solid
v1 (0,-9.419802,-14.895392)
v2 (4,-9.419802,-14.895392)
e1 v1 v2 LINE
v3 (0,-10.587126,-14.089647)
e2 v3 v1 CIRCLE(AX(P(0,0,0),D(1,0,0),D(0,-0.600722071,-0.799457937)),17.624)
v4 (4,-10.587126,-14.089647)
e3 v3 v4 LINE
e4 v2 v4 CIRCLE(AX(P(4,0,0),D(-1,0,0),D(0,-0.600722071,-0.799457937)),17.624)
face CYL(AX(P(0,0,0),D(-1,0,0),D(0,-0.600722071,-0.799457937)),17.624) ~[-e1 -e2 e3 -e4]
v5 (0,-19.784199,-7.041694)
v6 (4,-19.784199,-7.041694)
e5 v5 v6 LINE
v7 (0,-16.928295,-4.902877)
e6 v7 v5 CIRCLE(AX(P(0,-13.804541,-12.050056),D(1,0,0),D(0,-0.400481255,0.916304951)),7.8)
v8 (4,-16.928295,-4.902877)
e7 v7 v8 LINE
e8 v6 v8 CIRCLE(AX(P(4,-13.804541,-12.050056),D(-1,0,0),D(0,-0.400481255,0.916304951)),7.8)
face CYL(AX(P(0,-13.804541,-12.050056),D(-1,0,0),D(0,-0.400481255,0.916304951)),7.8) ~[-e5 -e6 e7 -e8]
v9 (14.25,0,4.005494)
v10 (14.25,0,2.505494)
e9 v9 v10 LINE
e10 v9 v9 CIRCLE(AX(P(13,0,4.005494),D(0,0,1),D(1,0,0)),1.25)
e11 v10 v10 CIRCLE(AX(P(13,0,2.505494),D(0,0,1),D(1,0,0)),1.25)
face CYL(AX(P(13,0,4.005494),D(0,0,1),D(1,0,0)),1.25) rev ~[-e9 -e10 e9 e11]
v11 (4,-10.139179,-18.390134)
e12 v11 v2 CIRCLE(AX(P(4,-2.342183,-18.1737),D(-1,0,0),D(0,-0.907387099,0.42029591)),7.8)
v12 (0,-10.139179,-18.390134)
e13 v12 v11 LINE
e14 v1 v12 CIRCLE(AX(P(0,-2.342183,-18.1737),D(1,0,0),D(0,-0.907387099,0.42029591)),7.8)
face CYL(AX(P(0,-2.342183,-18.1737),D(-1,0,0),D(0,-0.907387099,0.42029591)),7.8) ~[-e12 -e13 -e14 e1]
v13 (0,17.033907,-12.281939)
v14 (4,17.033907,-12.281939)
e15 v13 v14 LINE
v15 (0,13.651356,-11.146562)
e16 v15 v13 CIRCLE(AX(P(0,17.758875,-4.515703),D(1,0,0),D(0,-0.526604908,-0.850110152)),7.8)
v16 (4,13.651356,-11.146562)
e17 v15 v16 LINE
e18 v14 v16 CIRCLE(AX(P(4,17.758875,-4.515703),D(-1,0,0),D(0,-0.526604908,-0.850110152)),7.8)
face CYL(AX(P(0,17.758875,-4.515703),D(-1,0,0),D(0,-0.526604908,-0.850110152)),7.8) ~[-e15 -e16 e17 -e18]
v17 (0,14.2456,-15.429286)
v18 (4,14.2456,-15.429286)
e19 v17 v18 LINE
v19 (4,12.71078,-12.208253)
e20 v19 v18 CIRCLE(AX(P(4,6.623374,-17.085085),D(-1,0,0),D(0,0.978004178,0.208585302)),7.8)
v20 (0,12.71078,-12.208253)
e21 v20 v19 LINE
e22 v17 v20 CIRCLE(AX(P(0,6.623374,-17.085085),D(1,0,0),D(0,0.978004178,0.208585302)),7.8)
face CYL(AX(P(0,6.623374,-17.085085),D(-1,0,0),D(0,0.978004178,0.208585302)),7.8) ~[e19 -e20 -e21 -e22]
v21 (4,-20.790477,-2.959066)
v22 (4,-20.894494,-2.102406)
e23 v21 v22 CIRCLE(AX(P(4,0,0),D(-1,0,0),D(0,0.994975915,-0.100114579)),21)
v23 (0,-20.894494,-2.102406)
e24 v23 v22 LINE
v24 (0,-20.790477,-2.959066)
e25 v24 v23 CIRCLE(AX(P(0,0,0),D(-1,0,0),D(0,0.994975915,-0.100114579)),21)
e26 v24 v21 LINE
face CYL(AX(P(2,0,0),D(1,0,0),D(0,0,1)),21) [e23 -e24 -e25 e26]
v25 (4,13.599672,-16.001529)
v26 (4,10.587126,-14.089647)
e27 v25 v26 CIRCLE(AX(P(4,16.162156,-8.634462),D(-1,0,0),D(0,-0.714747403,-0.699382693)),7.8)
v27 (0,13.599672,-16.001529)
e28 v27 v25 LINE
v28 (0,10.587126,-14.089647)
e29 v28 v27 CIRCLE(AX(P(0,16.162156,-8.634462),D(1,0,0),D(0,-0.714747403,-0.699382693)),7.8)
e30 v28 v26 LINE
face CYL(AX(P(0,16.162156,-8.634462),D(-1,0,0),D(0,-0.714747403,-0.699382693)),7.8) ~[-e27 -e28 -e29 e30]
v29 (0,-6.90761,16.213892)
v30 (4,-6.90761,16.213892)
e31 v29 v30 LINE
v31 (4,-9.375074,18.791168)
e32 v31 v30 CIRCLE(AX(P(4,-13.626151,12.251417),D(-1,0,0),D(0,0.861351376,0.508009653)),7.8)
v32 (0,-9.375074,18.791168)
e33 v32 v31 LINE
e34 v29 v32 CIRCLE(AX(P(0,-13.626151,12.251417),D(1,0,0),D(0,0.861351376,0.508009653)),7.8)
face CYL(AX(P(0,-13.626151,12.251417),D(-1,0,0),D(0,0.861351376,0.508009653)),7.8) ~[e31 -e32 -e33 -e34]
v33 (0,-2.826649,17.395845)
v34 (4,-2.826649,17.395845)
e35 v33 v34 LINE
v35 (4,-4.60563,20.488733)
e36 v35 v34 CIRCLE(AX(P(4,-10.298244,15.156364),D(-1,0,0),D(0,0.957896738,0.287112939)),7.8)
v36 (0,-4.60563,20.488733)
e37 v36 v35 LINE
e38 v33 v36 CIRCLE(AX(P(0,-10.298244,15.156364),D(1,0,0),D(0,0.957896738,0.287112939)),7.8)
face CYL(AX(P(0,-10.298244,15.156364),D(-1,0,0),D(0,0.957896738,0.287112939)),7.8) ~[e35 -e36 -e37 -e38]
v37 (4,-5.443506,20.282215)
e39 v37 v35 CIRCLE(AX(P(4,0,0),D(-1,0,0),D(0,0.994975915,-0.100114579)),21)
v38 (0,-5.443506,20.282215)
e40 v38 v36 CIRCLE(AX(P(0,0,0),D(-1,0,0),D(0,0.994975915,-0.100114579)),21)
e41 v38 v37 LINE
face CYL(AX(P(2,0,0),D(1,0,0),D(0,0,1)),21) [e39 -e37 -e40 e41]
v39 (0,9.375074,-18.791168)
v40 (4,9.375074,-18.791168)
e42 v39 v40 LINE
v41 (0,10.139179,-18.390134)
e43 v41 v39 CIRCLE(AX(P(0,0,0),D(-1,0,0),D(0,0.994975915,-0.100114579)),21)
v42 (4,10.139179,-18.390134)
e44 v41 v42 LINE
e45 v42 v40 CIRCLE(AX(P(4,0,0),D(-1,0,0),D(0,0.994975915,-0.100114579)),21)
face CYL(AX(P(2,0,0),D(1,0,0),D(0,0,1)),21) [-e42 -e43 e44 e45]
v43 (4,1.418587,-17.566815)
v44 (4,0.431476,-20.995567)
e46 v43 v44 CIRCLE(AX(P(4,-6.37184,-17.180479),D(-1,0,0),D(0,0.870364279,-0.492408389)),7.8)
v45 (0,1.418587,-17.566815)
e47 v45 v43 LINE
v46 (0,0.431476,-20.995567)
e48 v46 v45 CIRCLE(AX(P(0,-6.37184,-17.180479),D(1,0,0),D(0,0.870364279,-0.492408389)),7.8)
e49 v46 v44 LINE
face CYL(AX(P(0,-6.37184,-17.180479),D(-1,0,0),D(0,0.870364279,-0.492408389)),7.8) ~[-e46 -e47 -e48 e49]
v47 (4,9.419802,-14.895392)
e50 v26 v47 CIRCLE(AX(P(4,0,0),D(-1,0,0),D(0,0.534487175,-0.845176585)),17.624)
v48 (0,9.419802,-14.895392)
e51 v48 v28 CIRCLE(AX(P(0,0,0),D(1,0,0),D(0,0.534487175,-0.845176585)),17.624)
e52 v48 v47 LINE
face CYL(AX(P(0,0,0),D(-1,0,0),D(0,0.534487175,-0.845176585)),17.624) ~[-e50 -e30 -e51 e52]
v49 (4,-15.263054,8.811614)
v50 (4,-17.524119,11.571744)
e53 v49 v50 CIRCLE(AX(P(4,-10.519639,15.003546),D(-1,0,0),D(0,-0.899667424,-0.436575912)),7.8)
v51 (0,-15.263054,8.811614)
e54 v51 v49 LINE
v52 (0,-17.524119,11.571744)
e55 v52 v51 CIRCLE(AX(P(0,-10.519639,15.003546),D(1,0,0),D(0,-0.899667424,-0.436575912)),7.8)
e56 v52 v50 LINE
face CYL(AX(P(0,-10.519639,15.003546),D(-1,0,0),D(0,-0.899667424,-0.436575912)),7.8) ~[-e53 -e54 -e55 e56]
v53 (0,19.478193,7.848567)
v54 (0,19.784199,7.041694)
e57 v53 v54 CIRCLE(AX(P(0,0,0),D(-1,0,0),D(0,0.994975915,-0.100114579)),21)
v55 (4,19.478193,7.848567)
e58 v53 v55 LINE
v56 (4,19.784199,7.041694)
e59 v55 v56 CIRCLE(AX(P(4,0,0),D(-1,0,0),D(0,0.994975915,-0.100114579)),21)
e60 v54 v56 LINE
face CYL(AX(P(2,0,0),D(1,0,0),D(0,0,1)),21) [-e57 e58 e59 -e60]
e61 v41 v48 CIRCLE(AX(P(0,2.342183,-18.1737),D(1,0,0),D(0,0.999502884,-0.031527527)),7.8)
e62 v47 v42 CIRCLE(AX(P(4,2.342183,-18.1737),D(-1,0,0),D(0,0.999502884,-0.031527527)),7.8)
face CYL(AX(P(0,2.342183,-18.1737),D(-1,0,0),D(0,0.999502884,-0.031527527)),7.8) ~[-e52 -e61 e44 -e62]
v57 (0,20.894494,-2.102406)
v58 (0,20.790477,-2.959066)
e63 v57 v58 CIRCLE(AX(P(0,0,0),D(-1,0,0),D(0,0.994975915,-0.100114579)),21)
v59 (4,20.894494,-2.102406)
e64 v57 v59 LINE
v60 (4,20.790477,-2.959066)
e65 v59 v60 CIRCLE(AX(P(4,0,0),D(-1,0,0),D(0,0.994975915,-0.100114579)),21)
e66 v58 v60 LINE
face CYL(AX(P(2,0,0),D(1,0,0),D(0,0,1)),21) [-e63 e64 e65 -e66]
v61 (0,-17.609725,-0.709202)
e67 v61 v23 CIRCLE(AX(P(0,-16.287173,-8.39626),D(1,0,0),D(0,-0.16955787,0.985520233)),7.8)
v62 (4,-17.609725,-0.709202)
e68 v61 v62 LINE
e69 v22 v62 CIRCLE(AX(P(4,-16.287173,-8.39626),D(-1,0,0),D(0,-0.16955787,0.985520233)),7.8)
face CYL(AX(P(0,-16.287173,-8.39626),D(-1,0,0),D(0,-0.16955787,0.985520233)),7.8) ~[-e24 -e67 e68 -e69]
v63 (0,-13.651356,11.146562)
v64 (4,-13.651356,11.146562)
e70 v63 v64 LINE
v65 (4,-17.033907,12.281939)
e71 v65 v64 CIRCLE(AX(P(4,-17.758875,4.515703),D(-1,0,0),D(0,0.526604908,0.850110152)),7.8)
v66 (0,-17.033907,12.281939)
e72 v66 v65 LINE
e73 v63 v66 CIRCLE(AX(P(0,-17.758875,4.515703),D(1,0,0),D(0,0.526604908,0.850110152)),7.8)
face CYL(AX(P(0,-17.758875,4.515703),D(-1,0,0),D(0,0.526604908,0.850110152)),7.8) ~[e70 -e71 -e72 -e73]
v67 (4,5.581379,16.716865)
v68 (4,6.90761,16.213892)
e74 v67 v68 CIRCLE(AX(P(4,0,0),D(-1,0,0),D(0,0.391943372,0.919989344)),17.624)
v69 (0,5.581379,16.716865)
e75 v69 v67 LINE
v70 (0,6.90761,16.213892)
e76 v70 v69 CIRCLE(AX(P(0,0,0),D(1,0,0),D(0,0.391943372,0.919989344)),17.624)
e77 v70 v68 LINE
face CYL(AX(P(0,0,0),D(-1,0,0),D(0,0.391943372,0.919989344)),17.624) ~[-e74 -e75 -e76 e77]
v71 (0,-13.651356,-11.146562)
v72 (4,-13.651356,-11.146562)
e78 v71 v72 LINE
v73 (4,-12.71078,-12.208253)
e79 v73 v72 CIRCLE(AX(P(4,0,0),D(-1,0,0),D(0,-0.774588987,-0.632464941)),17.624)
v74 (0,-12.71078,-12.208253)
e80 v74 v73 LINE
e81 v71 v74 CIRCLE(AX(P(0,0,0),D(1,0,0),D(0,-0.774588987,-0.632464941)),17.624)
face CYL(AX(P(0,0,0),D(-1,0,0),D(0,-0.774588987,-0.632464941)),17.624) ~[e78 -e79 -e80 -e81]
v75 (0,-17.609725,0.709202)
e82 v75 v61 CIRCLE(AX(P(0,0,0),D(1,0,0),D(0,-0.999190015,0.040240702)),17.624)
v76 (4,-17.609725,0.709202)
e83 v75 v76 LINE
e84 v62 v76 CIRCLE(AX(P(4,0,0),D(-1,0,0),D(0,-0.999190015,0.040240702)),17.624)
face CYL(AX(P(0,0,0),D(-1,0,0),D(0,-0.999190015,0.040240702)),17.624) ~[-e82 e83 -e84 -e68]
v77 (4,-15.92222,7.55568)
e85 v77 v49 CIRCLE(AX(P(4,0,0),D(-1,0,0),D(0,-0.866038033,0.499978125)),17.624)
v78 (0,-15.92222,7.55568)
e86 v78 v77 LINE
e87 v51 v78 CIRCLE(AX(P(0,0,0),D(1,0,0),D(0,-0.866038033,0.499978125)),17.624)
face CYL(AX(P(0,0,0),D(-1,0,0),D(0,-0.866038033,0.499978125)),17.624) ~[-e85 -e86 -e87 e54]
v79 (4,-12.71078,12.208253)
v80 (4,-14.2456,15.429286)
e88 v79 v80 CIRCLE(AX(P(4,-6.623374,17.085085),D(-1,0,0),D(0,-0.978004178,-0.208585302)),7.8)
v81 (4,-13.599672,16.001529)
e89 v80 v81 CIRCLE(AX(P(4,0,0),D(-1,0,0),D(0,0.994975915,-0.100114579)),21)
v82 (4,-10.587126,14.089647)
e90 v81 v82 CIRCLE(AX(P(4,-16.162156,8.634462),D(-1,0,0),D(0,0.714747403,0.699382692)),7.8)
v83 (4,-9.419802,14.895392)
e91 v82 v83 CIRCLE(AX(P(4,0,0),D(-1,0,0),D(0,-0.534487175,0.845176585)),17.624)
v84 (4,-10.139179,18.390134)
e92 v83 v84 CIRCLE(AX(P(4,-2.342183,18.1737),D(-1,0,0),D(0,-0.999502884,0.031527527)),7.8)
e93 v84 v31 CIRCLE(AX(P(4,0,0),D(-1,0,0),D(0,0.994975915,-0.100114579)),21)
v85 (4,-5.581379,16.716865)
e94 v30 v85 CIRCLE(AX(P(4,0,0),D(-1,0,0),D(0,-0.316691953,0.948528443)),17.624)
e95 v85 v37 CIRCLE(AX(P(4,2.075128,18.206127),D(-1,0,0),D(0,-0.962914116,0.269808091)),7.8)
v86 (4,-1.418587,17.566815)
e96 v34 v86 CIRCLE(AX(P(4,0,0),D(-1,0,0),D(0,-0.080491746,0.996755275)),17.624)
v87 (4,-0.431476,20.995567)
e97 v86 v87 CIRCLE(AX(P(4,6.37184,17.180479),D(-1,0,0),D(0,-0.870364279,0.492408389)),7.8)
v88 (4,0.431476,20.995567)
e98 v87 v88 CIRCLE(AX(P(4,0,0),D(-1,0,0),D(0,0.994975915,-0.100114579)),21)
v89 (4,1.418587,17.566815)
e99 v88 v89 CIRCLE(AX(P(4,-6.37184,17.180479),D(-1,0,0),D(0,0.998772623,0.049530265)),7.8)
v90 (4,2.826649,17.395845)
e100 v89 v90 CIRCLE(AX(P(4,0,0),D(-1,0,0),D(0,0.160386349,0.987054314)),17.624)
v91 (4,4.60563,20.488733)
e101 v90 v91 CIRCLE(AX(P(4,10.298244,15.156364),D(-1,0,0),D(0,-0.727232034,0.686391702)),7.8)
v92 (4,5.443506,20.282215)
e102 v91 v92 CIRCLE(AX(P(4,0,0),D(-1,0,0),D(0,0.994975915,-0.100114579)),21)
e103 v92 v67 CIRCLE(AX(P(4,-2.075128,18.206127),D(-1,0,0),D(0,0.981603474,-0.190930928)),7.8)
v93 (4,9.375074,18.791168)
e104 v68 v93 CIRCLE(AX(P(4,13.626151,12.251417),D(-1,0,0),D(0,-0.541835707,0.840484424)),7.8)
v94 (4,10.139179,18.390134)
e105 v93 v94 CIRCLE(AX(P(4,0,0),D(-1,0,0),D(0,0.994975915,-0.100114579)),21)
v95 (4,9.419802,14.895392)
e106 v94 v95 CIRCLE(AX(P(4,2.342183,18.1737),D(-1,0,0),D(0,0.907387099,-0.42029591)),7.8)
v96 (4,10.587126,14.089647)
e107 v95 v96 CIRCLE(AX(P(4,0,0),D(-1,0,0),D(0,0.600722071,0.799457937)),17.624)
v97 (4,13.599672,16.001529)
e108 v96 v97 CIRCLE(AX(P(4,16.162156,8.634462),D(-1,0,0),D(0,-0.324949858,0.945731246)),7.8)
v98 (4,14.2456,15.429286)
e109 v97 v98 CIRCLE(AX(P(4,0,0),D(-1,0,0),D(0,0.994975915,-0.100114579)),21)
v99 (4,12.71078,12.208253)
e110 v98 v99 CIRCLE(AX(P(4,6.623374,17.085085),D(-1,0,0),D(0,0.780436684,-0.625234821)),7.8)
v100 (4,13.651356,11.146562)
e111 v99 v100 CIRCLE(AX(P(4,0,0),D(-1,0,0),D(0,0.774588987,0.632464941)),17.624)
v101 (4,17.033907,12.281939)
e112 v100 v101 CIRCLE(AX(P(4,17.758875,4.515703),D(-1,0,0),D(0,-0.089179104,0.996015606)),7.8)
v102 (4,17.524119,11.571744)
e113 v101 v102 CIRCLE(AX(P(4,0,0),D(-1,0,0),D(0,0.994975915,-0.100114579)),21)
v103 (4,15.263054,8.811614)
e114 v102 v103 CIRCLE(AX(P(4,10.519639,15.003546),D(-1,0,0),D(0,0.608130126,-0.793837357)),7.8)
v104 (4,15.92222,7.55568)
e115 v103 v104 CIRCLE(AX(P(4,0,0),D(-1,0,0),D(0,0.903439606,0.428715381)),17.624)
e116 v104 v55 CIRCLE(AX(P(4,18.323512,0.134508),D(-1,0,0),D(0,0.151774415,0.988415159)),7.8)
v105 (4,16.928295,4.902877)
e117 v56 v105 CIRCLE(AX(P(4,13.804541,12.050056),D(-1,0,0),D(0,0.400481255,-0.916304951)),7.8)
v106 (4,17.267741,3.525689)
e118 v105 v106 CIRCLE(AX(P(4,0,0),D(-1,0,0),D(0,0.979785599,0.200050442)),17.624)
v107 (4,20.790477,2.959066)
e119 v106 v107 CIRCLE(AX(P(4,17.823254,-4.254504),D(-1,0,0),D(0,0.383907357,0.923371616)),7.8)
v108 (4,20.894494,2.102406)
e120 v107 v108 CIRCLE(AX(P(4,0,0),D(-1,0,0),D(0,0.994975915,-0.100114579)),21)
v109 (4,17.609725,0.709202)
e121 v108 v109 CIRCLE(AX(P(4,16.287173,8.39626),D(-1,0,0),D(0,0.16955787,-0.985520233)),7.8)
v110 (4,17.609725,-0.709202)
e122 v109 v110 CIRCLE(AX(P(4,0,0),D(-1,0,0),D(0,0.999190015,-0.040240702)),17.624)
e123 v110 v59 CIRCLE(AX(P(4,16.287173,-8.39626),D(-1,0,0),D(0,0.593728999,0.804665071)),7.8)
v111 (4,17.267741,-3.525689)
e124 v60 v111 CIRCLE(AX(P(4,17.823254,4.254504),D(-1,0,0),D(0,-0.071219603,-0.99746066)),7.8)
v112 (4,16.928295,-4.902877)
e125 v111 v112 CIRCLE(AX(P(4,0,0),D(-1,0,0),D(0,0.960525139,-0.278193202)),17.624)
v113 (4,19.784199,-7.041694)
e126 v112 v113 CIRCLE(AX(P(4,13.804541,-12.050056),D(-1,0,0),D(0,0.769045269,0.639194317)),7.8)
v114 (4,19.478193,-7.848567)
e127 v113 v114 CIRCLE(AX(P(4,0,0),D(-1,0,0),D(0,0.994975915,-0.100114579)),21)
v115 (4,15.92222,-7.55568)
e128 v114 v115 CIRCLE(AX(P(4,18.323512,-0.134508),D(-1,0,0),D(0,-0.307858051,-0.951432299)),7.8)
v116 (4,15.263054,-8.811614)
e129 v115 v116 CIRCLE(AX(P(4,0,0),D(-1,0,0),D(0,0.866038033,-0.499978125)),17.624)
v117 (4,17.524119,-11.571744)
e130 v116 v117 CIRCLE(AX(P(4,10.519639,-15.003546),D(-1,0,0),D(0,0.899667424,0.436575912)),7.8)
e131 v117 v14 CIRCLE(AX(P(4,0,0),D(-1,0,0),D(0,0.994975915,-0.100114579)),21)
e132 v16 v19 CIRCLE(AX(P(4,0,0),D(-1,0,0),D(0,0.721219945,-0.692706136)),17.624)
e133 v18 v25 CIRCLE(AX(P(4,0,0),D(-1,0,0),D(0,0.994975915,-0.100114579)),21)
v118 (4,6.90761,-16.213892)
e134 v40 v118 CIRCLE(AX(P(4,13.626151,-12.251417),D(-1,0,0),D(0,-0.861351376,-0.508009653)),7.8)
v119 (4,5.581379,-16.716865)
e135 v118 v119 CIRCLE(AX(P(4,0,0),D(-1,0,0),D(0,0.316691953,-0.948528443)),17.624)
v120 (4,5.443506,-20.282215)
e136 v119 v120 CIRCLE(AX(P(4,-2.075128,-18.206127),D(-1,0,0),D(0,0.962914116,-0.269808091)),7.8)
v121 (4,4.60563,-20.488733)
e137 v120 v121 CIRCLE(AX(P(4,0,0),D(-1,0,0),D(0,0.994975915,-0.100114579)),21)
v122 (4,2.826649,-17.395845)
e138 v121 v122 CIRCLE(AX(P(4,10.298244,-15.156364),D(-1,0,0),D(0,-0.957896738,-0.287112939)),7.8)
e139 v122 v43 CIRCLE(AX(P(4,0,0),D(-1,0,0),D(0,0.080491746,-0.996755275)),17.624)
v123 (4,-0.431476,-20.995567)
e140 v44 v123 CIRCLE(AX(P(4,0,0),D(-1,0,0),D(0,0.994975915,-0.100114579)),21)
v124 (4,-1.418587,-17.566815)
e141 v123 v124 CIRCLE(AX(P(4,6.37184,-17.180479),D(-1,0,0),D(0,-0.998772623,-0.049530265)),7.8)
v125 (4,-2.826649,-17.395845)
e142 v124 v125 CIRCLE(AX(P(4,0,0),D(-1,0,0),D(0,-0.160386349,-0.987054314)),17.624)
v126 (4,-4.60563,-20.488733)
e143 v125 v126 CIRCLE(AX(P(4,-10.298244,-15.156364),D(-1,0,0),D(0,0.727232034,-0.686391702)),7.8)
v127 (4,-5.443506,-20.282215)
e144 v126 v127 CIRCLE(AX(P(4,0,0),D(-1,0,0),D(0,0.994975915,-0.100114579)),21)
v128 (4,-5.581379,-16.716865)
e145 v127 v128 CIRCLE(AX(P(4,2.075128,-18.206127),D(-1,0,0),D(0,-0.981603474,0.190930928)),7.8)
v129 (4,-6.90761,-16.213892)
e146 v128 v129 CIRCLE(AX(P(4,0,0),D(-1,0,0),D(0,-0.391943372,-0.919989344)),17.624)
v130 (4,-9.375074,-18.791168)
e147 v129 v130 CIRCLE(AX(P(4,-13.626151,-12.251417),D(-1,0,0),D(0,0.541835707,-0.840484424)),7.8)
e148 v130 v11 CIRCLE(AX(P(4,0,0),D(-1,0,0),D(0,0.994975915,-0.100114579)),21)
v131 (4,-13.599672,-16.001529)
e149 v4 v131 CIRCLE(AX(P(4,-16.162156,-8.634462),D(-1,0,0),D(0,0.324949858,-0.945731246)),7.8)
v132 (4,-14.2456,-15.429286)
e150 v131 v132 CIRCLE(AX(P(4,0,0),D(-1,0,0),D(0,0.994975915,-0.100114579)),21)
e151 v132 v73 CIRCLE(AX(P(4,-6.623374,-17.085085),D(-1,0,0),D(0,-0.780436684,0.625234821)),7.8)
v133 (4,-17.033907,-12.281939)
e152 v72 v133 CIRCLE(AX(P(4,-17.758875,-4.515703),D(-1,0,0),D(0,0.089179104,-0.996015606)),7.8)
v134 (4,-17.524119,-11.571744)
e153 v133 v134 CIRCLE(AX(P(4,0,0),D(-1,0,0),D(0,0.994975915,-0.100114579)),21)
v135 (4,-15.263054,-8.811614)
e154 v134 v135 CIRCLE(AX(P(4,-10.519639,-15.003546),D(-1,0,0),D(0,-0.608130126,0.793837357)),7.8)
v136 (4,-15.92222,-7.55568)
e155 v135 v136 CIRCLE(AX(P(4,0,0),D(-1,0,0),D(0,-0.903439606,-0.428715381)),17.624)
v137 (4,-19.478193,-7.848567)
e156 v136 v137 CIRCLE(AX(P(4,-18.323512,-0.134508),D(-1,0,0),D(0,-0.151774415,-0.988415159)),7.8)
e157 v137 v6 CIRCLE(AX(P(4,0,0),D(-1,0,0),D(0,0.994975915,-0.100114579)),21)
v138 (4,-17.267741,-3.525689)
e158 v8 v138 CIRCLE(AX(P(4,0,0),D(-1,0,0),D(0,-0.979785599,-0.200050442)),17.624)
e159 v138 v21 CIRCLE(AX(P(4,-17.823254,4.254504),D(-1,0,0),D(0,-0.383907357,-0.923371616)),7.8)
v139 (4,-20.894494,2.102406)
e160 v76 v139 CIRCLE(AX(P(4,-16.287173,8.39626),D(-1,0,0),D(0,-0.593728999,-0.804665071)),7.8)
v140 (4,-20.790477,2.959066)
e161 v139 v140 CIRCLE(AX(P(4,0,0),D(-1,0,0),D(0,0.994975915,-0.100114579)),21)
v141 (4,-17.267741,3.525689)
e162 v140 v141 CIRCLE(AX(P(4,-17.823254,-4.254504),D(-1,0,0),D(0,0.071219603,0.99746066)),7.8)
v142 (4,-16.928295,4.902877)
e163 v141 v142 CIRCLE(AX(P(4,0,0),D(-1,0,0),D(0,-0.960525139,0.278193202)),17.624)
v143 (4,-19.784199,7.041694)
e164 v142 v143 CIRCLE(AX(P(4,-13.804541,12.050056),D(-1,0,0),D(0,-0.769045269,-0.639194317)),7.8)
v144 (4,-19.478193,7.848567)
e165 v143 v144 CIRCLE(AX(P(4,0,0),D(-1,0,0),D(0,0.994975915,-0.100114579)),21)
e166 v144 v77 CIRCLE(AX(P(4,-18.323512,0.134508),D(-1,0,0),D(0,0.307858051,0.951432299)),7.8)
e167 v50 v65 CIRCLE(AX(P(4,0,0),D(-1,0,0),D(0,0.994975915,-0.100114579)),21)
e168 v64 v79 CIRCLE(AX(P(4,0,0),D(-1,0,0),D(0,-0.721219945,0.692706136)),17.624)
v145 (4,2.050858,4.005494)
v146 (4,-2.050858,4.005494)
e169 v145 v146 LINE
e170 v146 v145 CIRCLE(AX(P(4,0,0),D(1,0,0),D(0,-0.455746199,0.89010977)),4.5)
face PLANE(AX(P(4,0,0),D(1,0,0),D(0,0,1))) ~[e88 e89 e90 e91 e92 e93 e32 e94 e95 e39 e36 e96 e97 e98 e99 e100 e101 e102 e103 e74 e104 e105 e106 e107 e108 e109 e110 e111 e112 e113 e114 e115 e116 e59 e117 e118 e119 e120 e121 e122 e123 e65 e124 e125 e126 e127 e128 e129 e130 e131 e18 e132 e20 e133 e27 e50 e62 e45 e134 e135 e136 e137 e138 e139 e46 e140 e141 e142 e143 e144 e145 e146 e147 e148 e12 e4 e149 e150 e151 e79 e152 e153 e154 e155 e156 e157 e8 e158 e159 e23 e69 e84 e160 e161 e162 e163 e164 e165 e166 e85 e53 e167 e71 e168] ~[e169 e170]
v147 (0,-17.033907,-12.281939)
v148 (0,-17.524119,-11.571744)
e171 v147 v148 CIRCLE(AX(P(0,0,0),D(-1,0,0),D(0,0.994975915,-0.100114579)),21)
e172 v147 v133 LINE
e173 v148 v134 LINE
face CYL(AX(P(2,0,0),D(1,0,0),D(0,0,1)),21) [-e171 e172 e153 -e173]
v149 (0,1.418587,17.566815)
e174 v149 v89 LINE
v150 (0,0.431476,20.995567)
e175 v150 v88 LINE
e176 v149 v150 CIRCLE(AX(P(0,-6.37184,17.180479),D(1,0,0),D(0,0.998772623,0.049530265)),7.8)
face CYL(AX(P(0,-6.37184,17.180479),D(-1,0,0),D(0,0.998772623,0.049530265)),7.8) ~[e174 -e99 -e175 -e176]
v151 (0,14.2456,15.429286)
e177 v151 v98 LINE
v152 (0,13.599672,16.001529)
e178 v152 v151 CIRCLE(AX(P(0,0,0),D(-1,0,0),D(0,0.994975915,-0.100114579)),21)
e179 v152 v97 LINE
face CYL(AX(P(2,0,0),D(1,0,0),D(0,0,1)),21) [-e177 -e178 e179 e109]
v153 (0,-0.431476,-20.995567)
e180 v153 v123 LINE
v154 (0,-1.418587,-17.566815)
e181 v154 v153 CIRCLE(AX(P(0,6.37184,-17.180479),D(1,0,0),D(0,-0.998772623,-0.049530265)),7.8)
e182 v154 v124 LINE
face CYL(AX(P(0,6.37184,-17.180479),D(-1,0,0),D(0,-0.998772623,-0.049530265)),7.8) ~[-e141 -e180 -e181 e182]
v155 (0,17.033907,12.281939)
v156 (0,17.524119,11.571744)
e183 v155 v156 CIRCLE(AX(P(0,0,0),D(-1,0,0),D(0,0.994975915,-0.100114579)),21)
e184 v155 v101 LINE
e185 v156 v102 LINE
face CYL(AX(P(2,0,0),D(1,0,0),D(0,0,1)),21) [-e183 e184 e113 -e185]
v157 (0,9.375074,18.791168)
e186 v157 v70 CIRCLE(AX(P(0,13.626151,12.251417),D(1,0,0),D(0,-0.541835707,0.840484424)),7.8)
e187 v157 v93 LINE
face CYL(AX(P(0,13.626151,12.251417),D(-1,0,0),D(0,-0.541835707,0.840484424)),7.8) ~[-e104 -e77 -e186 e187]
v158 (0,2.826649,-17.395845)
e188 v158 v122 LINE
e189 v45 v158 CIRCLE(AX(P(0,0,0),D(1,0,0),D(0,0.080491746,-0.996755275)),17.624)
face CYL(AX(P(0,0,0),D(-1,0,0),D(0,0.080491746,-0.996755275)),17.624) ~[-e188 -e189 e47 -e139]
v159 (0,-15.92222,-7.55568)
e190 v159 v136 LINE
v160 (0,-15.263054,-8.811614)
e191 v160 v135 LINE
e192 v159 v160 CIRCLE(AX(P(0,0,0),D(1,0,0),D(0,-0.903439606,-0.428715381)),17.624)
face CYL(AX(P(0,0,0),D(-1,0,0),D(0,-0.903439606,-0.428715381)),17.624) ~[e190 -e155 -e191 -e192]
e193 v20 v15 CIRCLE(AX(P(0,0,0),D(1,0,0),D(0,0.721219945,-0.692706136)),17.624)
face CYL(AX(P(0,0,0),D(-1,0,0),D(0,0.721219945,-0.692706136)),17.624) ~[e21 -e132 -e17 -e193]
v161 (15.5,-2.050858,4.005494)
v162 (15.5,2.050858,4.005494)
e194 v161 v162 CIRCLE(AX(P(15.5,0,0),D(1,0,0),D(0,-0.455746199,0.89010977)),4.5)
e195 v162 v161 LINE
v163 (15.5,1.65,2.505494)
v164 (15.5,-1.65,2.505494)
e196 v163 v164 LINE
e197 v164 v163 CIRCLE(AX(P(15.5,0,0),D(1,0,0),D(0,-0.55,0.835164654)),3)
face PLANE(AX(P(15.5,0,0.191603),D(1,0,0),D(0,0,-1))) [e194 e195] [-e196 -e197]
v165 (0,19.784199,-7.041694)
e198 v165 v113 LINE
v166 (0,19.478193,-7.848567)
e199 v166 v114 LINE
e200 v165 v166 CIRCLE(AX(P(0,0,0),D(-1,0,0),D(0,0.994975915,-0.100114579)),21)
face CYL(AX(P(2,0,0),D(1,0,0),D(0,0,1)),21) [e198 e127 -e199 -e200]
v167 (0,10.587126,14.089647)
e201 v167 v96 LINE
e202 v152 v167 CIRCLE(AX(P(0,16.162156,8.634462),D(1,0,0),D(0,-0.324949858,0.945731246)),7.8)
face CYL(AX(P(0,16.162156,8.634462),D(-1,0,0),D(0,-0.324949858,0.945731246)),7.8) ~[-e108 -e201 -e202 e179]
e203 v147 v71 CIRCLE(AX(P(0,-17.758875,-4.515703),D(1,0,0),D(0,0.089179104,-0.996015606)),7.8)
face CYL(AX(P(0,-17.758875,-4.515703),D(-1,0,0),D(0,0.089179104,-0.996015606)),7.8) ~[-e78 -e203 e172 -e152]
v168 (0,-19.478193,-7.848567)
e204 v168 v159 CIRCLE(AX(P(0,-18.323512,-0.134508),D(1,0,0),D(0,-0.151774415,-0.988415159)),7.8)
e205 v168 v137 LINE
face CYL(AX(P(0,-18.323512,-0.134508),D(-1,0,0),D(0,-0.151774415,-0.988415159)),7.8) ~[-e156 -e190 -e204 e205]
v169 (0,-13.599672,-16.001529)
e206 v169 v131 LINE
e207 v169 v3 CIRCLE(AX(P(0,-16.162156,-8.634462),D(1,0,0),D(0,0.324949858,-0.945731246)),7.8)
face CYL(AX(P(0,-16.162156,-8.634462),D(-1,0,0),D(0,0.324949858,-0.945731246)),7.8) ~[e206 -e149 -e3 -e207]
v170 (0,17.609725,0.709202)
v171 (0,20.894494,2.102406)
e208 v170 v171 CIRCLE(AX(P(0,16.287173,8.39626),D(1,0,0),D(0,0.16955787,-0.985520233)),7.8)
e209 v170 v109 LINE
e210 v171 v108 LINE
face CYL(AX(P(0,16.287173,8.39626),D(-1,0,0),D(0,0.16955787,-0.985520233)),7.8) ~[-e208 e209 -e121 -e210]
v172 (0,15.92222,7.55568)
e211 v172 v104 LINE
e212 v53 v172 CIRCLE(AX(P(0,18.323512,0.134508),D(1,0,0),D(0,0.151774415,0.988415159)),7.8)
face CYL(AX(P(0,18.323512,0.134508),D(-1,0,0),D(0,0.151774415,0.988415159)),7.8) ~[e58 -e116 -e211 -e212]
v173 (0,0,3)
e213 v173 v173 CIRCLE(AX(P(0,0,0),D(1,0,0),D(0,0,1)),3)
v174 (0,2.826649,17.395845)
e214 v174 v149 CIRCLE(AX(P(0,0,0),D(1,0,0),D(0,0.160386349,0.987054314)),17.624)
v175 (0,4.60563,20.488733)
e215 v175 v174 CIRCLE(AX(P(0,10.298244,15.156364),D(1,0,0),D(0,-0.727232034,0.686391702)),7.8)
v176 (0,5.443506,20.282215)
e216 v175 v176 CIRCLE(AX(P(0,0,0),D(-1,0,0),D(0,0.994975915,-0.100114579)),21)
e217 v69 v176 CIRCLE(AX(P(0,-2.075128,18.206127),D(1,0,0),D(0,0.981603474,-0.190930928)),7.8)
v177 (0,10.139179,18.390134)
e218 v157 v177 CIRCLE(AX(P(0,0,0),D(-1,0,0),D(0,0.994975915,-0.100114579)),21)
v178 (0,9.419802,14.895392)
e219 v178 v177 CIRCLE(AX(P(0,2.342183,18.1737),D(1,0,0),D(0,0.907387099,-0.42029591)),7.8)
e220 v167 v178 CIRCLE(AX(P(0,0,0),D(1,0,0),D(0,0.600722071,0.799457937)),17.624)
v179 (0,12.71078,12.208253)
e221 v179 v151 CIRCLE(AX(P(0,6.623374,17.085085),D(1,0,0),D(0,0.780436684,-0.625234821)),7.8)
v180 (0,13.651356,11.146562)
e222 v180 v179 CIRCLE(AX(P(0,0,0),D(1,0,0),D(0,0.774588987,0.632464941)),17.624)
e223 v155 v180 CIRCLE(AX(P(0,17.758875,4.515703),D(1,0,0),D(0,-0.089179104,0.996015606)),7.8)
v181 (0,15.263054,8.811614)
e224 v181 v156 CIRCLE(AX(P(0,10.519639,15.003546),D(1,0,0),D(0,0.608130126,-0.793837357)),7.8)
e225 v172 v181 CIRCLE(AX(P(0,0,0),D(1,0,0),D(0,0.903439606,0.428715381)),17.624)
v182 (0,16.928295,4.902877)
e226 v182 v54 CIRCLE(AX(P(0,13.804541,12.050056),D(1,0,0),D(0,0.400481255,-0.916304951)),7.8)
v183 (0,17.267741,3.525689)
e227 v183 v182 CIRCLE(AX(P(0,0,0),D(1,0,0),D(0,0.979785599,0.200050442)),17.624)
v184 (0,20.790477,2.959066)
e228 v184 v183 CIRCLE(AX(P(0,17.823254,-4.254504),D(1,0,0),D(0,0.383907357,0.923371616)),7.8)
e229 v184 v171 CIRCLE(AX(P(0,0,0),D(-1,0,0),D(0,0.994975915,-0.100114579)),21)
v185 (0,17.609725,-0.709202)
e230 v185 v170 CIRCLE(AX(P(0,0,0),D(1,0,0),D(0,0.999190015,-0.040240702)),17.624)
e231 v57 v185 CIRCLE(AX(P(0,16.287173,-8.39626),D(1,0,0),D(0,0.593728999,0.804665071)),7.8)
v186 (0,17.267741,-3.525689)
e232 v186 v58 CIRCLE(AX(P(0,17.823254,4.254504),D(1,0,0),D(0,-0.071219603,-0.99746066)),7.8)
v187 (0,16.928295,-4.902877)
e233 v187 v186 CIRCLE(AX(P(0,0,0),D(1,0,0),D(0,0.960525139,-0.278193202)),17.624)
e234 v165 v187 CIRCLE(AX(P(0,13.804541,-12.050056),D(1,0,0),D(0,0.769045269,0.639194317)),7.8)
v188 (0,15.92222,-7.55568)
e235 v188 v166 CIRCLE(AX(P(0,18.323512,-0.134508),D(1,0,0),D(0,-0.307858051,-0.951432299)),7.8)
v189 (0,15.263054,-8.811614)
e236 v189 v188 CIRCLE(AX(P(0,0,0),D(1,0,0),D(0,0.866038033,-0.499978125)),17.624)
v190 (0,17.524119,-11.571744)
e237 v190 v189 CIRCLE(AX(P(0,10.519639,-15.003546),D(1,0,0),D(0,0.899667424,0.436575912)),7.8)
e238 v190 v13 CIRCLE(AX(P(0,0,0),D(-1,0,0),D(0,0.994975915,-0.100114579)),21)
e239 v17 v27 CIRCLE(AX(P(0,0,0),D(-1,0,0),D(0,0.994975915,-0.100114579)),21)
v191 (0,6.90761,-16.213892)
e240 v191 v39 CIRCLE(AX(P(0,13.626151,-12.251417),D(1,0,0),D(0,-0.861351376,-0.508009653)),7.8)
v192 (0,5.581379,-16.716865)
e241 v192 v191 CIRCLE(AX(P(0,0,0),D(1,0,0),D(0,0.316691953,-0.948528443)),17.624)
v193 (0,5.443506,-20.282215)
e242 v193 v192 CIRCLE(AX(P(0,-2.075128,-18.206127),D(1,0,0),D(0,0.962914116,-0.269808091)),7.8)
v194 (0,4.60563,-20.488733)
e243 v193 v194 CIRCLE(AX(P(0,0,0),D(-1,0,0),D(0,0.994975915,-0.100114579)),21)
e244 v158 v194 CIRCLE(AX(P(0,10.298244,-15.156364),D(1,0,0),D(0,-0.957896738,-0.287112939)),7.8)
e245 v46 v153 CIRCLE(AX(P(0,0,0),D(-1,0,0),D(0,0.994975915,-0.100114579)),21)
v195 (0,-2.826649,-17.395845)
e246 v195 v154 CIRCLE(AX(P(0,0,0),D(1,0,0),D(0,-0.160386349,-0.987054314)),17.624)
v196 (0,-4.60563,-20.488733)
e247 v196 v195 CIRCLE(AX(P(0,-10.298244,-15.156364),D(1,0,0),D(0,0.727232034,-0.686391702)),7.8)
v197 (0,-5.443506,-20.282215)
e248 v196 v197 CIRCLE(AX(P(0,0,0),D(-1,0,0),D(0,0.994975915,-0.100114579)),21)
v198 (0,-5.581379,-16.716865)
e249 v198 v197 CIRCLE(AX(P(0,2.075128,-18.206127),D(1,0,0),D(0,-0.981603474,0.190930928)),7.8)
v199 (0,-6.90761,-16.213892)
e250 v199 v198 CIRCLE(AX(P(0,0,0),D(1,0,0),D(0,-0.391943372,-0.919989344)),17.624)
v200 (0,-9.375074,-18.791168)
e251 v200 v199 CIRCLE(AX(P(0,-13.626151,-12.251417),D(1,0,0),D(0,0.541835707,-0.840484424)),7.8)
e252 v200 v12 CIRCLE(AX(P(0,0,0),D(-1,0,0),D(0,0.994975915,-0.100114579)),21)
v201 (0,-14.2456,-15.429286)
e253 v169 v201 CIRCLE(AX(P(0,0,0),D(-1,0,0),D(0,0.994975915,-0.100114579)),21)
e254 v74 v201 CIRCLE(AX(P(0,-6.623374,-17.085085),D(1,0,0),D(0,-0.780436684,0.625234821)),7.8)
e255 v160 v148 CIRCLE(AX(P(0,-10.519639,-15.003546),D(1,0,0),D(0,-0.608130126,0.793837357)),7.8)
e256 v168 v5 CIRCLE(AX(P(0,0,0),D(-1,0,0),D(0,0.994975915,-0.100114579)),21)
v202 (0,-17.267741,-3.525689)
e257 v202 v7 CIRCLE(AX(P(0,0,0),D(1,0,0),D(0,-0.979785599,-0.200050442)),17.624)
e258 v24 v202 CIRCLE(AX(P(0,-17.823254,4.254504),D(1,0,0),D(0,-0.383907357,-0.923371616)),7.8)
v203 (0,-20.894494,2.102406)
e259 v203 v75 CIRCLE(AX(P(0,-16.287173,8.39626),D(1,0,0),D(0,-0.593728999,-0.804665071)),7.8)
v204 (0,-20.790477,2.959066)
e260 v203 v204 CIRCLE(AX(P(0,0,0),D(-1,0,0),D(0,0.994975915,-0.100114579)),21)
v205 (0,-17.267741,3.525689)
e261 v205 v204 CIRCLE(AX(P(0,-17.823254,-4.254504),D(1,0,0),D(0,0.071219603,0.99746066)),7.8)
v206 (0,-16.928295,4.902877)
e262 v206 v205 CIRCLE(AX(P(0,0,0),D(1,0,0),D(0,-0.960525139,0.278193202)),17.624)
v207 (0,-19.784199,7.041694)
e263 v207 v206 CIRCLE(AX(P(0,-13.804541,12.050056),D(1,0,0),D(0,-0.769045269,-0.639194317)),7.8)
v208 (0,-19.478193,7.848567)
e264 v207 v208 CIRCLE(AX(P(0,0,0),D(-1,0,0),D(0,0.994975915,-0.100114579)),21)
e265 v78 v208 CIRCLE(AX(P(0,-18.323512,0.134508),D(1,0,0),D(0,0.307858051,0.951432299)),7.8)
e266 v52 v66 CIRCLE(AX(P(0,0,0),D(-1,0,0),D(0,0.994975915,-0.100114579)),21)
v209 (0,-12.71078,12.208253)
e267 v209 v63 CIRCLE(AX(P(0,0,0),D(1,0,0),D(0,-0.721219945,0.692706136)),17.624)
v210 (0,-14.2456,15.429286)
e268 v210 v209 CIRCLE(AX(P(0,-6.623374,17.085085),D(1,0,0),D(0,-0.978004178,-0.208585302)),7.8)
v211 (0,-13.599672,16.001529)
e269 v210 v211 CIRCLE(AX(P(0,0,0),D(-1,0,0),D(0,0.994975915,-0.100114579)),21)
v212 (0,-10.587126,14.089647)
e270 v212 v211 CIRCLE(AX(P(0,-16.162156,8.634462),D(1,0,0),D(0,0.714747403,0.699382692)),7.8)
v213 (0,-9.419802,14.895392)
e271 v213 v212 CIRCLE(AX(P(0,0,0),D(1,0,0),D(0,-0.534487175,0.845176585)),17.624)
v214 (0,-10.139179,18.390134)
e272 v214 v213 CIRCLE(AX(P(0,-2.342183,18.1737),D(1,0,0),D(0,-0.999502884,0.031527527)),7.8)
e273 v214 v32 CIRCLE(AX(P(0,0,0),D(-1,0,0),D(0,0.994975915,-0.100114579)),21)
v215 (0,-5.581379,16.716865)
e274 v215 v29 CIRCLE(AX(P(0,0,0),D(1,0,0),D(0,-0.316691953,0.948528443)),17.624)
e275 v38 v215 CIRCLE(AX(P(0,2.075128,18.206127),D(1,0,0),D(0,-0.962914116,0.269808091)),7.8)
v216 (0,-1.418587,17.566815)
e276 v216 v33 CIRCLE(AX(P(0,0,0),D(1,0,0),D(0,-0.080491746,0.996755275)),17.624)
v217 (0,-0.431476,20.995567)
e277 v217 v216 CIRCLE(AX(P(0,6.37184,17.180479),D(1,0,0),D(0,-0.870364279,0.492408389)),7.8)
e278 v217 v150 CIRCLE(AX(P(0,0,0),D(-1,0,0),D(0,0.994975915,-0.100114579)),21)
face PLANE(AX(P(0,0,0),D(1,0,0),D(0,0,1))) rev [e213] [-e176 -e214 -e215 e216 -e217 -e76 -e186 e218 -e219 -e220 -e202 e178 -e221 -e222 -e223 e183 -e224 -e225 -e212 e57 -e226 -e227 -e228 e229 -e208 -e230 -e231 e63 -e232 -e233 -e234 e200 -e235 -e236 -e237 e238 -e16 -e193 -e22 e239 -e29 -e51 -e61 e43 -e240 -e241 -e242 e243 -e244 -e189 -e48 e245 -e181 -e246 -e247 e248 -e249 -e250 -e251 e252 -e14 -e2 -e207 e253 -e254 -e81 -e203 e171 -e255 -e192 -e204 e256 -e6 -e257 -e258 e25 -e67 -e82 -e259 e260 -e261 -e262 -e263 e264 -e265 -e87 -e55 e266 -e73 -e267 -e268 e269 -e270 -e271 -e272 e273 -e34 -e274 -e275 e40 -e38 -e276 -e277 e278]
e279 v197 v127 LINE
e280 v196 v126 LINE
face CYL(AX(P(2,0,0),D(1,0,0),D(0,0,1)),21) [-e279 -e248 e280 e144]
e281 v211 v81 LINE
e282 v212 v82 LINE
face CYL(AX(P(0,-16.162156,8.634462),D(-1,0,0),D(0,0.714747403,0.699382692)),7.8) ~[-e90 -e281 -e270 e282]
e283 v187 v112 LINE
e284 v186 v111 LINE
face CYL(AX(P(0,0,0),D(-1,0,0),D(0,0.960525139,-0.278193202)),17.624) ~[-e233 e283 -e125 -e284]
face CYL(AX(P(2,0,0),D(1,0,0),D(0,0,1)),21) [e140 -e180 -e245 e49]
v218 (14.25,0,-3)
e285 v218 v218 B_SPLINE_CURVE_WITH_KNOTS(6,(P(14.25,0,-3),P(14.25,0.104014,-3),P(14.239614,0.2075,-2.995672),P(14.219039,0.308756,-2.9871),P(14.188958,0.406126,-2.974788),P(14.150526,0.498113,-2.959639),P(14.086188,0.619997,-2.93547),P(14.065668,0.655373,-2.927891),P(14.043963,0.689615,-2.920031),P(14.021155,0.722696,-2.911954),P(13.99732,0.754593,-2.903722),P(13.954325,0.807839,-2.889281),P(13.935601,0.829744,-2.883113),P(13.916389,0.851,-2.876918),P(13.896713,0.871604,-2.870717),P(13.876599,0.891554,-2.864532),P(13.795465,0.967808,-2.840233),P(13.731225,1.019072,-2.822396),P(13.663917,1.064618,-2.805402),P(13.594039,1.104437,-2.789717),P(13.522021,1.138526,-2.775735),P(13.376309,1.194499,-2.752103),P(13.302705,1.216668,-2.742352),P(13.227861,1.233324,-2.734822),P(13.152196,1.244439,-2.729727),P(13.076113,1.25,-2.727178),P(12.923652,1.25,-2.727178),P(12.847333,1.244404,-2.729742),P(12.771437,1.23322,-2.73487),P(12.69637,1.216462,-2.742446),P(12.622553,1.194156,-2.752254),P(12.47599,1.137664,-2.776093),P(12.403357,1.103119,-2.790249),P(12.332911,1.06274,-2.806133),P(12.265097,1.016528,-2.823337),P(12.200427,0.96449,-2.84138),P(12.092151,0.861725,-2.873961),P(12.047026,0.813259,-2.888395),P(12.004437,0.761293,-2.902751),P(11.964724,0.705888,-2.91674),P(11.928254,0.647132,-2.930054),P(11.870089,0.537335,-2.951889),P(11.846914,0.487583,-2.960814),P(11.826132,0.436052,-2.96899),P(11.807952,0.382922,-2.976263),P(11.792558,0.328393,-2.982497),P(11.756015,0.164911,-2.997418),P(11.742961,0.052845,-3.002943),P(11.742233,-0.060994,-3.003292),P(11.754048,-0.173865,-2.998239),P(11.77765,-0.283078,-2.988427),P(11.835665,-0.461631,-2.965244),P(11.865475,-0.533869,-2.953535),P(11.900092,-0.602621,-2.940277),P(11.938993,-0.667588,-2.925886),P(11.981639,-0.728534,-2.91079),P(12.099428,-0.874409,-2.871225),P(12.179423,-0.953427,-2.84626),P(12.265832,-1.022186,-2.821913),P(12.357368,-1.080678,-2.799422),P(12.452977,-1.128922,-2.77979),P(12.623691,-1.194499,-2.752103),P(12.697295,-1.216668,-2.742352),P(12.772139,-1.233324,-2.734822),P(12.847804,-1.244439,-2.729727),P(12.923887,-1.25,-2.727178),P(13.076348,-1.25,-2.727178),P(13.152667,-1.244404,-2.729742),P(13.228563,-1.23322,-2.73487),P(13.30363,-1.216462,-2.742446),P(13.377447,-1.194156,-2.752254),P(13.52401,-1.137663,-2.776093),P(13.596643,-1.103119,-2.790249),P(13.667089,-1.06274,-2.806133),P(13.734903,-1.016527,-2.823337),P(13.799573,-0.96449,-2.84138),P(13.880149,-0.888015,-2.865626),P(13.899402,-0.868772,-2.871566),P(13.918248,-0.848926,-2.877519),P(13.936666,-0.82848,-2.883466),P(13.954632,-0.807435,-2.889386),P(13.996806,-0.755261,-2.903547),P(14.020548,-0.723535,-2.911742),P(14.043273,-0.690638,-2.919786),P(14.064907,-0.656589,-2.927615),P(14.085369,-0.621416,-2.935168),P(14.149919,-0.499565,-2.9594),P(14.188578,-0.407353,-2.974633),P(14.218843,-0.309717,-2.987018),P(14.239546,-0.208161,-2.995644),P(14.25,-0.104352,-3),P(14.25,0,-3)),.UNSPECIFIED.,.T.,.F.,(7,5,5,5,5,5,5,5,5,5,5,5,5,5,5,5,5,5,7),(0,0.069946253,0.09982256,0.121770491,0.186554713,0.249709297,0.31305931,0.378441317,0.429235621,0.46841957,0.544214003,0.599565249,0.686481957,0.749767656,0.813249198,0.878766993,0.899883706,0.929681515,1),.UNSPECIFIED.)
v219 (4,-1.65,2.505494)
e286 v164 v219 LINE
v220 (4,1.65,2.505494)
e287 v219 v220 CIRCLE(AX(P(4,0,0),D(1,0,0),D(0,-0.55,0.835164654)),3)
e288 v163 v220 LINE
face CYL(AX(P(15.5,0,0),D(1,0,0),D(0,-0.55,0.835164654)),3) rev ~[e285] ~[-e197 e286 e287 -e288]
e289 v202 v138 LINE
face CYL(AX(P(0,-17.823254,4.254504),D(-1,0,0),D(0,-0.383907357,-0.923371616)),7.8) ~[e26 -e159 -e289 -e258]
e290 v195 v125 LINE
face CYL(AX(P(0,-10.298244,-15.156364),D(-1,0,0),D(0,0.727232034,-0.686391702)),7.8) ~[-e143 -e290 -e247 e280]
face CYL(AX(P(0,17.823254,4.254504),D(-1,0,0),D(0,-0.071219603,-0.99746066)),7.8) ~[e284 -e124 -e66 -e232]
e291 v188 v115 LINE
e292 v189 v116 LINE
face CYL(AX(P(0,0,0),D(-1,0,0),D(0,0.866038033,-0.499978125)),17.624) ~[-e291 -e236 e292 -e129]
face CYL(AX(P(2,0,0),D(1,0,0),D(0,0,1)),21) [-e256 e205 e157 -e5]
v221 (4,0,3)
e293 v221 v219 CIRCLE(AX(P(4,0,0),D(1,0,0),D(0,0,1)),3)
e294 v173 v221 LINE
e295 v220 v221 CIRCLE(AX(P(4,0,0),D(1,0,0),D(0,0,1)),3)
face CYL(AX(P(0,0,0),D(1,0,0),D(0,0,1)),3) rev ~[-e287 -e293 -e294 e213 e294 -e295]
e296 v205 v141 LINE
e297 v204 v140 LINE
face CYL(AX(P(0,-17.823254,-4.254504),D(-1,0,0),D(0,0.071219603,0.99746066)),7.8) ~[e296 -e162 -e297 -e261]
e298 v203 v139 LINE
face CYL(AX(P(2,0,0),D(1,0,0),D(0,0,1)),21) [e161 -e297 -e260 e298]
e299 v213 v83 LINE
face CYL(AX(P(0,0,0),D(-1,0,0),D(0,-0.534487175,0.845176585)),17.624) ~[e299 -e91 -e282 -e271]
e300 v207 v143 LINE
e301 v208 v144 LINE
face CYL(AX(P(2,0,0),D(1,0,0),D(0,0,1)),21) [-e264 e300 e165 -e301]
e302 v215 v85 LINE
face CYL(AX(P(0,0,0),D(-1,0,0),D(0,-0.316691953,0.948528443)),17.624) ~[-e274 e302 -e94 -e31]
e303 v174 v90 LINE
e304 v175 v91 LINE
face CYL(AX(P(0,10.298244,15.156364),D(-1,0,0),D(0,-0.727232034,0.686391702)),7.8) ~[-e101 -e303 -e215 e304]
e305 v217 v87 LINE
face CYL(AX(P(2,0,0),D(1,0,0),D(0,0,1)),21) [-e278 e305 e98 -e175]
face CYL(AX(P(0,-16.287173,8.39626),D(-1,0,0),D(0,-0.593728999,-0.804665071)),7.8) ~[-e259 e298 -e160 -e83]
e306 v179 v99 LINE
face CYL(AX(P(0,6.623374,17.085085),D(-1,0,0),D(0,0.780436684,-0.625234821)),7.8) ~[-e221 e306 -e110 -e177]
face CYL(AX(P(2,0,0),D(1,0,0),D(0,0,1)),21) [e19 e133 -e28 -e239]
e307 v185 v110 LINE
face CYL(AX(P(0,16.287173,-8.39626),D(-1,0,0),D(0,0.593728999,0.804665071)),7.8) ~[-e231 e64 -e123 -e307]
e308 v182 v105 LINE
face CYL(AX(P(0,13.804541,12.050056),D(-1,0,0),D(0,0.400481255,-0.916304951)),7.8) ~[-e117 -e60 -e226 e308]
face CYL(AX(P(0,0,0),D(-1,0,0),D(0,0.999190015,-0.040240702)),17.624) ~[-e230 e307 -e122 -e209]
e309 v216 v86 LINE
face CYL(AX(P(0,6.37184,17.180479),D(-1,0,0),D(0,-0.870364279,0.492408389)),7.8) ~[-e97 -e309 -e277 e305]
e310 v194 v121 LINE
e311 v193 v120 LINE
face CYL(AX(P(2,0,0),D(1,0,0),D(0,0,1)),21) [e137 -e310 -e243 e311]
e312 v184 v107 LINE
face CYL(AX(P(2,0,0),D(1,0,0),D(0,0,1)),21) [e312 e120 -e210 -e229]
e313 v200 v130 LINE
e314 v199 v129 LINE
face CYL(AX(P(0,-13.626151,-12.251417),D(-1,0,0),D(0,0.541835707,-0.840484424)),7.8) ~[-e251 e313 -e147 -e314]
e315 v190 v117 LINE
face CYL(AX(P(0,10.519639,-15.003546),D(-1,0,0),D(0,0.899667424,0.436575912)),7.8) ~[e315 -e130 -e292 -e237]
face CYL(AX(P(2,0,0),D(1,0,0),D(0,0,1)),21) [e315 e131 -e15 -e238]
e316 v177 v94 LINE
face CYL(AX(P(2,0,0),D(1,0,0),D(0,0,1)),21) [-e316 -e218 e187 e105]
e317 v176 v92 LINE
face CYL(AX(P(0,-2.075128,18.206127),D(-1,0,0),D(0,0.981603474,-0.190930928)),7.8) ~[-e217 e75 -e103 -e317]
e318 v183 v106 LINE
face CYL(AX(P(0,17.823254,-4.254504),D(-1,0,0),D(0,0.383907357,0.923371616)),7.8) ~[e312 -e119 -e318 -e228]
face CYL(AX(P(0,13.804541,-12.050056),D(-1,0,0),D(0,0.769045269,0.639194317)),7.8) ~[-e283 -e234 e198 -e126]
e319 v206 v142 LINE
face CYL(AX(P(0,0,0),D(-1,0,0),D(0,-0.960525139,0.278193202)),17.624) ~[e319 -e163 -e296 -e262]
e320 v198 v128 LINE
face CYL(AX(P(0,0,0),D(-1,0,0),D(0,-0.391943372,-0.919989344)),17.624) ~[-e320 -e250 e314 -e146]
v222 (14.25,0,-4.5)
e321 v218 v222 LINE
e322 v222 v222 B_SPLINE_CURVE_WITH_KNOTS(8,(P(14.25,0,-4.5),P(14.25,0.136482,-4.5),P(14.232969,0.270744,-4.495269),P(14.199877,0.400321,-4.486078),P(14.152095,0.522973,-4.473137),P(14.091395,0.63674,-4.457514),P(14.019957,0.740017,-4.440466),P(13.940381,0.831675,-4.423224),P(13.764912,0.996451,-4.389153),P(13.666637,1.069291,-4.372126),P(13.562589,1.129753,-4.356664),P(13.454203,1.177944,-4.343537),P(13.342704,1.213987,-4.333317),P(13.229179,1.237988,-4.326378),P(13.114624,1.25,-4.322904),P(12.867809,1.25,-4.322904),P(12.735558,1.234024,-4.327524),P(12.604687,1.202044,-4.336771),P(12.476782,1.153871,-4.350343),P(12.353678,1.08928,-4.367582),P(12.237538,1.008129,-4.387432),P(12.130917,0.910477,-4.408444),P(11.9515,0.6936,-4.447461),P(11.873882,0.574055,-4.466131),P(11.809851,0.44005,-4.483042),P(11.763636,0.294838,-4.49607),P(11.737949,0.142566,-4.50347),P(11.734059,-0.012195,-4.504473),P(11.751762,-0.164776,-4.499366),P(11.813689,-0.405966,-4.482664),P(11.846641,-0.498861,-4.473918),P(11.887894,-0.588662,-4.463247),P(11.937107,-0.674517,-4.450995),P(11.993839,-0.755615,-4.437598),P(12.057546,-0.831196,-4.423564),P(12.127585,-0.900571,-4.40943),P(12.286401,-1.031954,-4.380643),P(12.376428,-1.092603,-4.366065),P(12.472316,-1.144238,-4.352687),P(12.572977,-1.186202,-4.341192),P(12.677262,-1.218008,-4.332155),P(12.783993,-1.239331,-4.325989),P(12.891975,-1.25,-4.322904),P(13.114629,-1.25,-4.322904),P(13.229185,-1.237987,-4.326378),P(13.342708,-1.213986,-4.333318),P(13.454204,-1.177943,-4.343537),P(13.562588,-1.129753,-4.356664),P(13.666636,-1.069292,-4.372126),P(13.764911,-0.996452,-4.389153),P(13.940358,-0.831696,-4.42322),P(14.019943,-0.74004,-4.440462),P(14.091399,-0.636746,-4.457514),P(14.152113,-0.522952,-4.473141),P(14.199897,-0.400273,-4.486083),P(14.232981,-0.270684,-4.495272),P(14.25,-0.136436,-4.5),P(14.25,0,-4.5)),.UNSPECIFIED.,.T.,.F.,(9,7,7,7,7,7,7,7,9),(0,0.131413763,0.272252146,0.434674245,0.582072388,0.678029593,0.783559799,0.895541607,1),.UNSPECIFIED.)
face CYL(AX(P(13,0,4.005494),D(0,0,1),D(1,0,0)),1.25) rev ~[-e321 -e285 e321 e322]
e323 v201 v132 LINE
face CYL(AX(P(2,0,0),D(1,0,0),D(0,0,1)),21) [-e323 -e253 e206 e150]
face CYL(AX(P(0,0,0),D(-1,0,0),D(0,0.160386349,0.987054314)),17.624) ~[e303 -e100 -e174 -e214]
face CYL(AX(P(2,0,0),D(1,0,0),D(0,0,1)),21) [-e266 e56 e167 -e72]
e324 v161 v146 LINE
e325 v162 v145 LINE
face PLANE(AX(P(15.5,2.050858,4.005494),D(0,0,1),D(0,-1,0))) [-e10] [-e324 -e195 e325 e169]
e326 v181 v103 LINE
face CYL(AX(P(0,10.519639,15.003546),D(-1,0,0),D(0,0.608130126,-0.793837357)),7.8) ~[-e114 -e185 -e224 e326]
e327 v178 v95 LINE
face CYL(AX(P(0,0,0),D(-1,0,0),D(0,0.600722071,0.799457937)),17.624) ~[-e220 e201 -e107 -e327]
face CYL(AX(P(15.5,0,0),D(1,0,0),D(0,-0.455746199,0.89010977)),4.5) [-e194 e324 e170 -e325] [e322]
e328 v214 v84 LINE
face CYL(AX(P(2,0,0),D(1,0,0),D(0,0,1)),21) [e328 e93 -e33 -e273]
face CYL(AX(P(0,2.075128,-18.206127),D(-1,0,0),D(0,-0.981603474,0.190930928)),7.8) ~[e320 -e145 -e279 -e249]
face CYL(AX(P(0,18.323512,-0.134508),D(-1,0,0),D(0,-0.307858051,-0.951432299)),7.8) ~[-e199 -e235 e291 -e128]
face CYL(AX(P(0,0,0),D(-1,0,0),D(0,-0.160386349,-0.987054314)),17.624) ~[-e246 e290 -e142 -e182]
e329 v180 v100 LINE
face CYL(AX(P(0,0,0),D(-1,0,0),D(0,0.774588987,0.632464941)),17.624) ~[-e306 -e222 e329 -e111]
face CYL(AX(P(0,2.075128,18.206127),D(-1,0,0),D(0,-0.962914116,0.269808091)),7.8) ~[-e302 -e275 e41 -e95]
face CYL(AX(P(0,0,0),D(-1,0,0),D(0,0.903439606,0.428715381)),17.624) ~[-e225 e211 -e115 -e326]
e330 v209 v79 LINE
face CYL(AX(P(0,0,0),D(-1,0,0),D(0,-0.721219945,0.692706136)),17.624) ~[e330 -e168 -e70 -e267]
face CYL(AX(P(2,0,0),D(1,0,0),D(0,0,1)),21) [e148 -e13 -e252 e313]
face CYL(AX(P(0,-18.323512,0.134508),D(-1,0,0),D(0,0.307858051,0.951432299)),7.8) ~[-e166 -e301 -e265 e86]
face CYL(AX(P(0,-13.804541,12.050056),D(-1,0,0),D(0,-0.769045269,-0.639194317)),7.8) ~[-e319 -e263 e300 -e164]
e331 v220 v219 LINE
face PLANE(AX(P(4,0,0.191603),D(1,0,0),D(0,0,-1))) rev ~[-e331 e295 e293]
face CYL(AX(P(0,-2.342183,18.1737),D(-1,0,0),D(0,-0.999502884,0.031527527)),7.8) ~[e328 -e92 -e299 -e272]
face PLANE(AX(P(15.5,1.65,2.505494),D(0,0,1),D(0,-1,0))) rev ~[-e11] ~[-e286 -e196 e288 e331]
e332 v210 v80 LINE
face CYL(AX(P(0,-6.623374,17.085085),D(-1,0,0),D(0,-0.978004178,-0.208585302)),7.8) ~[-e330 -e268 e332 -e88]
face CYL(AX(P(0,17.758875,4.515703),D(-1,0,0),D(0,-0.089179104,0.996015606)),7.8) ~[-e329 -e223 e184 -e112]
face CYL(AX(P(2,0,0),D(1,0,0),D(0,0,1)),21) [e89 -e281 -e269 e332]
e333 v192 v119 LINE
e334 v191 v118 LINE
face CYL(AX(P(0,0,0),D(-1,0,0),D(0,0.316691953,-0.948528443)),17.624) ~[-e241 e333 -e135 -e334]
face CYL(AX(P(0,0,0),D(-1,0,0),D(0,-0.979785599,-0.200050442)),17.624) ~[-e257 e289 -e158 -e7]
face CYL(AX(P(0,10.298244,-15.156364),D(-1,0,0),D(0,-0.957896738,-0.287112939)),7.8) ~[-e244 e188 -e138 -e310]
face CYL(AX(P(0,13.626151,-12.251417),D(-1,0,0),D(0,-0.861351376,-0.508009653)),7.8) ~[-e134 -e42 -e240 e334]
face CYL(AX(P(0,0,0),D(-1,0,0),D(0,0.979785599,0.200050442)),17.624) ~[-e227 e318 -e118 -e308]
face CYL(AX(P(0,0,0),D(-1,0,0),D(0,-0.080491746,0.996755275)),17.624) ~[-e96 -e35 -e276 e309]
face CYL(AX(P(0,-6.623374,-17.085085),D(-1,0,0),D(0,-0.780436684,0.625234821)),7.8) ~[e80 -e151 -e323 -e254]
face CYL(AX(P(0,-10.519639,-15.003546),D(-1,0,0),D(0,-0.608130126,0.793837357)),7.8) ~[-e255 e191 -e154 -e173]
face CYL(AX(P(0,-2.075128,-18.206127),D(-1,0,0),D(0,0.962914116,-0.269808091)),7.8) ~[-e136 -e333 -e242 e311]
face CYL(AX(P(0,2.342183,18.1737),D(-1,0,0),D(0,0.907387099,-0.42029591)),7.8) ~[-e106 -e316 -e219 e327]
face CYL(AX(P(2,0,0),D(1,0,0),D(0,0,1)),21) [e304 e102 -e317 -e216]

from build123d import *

# Parameters (mm, degrees)
BASPROSKE_W         = 4
BASPROSKE_H         = 21
TOOTHCUT_DEPTH      = 30.966648128
TEETHCUTS_COUNT     = 26
TEETHCUTS_ANGLE     = 346.153846154
BORSKE_R            = 3
BORE_DEPTH          = 50.0000508
EXTRUDE_START       = 11.5
EXTRUDE_1_DEPTH     = 11.5
SKETCH_2_R          = 1.25
CUT_EXTRUDE_1_DEPTH = 37.084686733


with BuildPart() as part:
    # BasProSke → Base-Revolve (revolve)
    with BuildSketch(Plane(origin=(0, 0, 0), x_dir=(1, 0, 0), z_dir=(0, 1, 0)), mode=Mode.PRIVATE) as base_revolve_sk:
        with Locations((2, 10.5)):
            Rectangle(BASPROSKE_W, BASPROSKE_H)
    revolve(base_revolve_sk.sketch.rotate(Axis((-10, 0, 0), (1, 0, 0)), 180), axis=Axis((-10, 0, 0), (1, 0, 0)))

    # TooCutSke → ToothCut (cut, through all)
    with BuildSketch(Plane(origin=(0, 0, 0), x_dir=(0, 0, -1), z_dir=(1, 0, 0))):
        with BuildLine():
            ThreePointArc((0.70920213, 17.609724823), (0, 17.624), (-0.70920213, 17.609724823))
            ThreePointArc((-0.70920213, 17.609724823), (-1.221230171, 19.346413175), (-2.119872395, 20.918259636))
            ThreePointArc((-2.119872395, 20.918259636), (0, 21.0254), (2.119872395, 20.918259636))
            ThreePointArc((2.119872395, 20.918259636), (1.221230171, 19.346413175), (0.70920213, 17.609724823))
        make_face()
    toothcut = extrude(amount=TOOTHCUT_DEPTH, mode=Mode.SUBTRACT)

    # TeethCuts: ToothCut ×26 about axis
    teethcuts_axis = Axis((-10, 0, 0), (1, 0, 0))
    for i in range(1, TEETHCUTS_COUNT):
        add(toothcut.rotate(teethcuts_axis, i * TEETHCUTS_ANGLE / (TEETHCUTS_COUNT - 1)), mode=Mode.SUBTRACT)

    # BorSke → Bore (cut, symmetric)
    with BuildSketch(Plane(origin=(0, 0, 0), x_dir=(0, 0, -1), z_dir=(1, 0, 0))):
        with Locations(Location((0, 0, 0), (0, 0, 180))):
            Circle(BORSKE_R)
    extrude(amount=BORE_DEPTH, both=True, mode=Mode.SUBTRACT)

    # 草图1 → 凸台-拉伸1 (add)
    with BuildSketch(Plane(origin=(4, 0, 0), x_dir=(0, 0, -1), z_dir=(1, 0, 0)).offset(EXTRUDE_START)):
        with BuildLine():
            Line((-4.005493963, 2.050857896), (-4.005493963, -2.050857896))
            ThreePointArc((-4.005493963, -2.050857896), (4.5, 0), (-4.005493963, 2.050857896))
        make_face()
        with BuildLine():
            Line((-2.505493963, 1.65), (-2.505493963, -1.65))
            ThreePointArc((-2.505493963, -1.65), (3, 0), (-2.505493963, 1.65))
        make_face(mode=Mode.SUBTRACT)
    extrude(amount=-EXTRUDE_1_DEPTH)

    # 草图2 → 切除-拉伸1 (cut, through all)
    with BuildSketch(Plane.XY.offset(4.005493963)):
        with Locations((13, 0)):
            Circle(SKETCH_2_R)
    extrude(amount=-CUT_EXTRUDE_1_DEPTH, mode=Mode.SUBTRACT)


solid = part.part
